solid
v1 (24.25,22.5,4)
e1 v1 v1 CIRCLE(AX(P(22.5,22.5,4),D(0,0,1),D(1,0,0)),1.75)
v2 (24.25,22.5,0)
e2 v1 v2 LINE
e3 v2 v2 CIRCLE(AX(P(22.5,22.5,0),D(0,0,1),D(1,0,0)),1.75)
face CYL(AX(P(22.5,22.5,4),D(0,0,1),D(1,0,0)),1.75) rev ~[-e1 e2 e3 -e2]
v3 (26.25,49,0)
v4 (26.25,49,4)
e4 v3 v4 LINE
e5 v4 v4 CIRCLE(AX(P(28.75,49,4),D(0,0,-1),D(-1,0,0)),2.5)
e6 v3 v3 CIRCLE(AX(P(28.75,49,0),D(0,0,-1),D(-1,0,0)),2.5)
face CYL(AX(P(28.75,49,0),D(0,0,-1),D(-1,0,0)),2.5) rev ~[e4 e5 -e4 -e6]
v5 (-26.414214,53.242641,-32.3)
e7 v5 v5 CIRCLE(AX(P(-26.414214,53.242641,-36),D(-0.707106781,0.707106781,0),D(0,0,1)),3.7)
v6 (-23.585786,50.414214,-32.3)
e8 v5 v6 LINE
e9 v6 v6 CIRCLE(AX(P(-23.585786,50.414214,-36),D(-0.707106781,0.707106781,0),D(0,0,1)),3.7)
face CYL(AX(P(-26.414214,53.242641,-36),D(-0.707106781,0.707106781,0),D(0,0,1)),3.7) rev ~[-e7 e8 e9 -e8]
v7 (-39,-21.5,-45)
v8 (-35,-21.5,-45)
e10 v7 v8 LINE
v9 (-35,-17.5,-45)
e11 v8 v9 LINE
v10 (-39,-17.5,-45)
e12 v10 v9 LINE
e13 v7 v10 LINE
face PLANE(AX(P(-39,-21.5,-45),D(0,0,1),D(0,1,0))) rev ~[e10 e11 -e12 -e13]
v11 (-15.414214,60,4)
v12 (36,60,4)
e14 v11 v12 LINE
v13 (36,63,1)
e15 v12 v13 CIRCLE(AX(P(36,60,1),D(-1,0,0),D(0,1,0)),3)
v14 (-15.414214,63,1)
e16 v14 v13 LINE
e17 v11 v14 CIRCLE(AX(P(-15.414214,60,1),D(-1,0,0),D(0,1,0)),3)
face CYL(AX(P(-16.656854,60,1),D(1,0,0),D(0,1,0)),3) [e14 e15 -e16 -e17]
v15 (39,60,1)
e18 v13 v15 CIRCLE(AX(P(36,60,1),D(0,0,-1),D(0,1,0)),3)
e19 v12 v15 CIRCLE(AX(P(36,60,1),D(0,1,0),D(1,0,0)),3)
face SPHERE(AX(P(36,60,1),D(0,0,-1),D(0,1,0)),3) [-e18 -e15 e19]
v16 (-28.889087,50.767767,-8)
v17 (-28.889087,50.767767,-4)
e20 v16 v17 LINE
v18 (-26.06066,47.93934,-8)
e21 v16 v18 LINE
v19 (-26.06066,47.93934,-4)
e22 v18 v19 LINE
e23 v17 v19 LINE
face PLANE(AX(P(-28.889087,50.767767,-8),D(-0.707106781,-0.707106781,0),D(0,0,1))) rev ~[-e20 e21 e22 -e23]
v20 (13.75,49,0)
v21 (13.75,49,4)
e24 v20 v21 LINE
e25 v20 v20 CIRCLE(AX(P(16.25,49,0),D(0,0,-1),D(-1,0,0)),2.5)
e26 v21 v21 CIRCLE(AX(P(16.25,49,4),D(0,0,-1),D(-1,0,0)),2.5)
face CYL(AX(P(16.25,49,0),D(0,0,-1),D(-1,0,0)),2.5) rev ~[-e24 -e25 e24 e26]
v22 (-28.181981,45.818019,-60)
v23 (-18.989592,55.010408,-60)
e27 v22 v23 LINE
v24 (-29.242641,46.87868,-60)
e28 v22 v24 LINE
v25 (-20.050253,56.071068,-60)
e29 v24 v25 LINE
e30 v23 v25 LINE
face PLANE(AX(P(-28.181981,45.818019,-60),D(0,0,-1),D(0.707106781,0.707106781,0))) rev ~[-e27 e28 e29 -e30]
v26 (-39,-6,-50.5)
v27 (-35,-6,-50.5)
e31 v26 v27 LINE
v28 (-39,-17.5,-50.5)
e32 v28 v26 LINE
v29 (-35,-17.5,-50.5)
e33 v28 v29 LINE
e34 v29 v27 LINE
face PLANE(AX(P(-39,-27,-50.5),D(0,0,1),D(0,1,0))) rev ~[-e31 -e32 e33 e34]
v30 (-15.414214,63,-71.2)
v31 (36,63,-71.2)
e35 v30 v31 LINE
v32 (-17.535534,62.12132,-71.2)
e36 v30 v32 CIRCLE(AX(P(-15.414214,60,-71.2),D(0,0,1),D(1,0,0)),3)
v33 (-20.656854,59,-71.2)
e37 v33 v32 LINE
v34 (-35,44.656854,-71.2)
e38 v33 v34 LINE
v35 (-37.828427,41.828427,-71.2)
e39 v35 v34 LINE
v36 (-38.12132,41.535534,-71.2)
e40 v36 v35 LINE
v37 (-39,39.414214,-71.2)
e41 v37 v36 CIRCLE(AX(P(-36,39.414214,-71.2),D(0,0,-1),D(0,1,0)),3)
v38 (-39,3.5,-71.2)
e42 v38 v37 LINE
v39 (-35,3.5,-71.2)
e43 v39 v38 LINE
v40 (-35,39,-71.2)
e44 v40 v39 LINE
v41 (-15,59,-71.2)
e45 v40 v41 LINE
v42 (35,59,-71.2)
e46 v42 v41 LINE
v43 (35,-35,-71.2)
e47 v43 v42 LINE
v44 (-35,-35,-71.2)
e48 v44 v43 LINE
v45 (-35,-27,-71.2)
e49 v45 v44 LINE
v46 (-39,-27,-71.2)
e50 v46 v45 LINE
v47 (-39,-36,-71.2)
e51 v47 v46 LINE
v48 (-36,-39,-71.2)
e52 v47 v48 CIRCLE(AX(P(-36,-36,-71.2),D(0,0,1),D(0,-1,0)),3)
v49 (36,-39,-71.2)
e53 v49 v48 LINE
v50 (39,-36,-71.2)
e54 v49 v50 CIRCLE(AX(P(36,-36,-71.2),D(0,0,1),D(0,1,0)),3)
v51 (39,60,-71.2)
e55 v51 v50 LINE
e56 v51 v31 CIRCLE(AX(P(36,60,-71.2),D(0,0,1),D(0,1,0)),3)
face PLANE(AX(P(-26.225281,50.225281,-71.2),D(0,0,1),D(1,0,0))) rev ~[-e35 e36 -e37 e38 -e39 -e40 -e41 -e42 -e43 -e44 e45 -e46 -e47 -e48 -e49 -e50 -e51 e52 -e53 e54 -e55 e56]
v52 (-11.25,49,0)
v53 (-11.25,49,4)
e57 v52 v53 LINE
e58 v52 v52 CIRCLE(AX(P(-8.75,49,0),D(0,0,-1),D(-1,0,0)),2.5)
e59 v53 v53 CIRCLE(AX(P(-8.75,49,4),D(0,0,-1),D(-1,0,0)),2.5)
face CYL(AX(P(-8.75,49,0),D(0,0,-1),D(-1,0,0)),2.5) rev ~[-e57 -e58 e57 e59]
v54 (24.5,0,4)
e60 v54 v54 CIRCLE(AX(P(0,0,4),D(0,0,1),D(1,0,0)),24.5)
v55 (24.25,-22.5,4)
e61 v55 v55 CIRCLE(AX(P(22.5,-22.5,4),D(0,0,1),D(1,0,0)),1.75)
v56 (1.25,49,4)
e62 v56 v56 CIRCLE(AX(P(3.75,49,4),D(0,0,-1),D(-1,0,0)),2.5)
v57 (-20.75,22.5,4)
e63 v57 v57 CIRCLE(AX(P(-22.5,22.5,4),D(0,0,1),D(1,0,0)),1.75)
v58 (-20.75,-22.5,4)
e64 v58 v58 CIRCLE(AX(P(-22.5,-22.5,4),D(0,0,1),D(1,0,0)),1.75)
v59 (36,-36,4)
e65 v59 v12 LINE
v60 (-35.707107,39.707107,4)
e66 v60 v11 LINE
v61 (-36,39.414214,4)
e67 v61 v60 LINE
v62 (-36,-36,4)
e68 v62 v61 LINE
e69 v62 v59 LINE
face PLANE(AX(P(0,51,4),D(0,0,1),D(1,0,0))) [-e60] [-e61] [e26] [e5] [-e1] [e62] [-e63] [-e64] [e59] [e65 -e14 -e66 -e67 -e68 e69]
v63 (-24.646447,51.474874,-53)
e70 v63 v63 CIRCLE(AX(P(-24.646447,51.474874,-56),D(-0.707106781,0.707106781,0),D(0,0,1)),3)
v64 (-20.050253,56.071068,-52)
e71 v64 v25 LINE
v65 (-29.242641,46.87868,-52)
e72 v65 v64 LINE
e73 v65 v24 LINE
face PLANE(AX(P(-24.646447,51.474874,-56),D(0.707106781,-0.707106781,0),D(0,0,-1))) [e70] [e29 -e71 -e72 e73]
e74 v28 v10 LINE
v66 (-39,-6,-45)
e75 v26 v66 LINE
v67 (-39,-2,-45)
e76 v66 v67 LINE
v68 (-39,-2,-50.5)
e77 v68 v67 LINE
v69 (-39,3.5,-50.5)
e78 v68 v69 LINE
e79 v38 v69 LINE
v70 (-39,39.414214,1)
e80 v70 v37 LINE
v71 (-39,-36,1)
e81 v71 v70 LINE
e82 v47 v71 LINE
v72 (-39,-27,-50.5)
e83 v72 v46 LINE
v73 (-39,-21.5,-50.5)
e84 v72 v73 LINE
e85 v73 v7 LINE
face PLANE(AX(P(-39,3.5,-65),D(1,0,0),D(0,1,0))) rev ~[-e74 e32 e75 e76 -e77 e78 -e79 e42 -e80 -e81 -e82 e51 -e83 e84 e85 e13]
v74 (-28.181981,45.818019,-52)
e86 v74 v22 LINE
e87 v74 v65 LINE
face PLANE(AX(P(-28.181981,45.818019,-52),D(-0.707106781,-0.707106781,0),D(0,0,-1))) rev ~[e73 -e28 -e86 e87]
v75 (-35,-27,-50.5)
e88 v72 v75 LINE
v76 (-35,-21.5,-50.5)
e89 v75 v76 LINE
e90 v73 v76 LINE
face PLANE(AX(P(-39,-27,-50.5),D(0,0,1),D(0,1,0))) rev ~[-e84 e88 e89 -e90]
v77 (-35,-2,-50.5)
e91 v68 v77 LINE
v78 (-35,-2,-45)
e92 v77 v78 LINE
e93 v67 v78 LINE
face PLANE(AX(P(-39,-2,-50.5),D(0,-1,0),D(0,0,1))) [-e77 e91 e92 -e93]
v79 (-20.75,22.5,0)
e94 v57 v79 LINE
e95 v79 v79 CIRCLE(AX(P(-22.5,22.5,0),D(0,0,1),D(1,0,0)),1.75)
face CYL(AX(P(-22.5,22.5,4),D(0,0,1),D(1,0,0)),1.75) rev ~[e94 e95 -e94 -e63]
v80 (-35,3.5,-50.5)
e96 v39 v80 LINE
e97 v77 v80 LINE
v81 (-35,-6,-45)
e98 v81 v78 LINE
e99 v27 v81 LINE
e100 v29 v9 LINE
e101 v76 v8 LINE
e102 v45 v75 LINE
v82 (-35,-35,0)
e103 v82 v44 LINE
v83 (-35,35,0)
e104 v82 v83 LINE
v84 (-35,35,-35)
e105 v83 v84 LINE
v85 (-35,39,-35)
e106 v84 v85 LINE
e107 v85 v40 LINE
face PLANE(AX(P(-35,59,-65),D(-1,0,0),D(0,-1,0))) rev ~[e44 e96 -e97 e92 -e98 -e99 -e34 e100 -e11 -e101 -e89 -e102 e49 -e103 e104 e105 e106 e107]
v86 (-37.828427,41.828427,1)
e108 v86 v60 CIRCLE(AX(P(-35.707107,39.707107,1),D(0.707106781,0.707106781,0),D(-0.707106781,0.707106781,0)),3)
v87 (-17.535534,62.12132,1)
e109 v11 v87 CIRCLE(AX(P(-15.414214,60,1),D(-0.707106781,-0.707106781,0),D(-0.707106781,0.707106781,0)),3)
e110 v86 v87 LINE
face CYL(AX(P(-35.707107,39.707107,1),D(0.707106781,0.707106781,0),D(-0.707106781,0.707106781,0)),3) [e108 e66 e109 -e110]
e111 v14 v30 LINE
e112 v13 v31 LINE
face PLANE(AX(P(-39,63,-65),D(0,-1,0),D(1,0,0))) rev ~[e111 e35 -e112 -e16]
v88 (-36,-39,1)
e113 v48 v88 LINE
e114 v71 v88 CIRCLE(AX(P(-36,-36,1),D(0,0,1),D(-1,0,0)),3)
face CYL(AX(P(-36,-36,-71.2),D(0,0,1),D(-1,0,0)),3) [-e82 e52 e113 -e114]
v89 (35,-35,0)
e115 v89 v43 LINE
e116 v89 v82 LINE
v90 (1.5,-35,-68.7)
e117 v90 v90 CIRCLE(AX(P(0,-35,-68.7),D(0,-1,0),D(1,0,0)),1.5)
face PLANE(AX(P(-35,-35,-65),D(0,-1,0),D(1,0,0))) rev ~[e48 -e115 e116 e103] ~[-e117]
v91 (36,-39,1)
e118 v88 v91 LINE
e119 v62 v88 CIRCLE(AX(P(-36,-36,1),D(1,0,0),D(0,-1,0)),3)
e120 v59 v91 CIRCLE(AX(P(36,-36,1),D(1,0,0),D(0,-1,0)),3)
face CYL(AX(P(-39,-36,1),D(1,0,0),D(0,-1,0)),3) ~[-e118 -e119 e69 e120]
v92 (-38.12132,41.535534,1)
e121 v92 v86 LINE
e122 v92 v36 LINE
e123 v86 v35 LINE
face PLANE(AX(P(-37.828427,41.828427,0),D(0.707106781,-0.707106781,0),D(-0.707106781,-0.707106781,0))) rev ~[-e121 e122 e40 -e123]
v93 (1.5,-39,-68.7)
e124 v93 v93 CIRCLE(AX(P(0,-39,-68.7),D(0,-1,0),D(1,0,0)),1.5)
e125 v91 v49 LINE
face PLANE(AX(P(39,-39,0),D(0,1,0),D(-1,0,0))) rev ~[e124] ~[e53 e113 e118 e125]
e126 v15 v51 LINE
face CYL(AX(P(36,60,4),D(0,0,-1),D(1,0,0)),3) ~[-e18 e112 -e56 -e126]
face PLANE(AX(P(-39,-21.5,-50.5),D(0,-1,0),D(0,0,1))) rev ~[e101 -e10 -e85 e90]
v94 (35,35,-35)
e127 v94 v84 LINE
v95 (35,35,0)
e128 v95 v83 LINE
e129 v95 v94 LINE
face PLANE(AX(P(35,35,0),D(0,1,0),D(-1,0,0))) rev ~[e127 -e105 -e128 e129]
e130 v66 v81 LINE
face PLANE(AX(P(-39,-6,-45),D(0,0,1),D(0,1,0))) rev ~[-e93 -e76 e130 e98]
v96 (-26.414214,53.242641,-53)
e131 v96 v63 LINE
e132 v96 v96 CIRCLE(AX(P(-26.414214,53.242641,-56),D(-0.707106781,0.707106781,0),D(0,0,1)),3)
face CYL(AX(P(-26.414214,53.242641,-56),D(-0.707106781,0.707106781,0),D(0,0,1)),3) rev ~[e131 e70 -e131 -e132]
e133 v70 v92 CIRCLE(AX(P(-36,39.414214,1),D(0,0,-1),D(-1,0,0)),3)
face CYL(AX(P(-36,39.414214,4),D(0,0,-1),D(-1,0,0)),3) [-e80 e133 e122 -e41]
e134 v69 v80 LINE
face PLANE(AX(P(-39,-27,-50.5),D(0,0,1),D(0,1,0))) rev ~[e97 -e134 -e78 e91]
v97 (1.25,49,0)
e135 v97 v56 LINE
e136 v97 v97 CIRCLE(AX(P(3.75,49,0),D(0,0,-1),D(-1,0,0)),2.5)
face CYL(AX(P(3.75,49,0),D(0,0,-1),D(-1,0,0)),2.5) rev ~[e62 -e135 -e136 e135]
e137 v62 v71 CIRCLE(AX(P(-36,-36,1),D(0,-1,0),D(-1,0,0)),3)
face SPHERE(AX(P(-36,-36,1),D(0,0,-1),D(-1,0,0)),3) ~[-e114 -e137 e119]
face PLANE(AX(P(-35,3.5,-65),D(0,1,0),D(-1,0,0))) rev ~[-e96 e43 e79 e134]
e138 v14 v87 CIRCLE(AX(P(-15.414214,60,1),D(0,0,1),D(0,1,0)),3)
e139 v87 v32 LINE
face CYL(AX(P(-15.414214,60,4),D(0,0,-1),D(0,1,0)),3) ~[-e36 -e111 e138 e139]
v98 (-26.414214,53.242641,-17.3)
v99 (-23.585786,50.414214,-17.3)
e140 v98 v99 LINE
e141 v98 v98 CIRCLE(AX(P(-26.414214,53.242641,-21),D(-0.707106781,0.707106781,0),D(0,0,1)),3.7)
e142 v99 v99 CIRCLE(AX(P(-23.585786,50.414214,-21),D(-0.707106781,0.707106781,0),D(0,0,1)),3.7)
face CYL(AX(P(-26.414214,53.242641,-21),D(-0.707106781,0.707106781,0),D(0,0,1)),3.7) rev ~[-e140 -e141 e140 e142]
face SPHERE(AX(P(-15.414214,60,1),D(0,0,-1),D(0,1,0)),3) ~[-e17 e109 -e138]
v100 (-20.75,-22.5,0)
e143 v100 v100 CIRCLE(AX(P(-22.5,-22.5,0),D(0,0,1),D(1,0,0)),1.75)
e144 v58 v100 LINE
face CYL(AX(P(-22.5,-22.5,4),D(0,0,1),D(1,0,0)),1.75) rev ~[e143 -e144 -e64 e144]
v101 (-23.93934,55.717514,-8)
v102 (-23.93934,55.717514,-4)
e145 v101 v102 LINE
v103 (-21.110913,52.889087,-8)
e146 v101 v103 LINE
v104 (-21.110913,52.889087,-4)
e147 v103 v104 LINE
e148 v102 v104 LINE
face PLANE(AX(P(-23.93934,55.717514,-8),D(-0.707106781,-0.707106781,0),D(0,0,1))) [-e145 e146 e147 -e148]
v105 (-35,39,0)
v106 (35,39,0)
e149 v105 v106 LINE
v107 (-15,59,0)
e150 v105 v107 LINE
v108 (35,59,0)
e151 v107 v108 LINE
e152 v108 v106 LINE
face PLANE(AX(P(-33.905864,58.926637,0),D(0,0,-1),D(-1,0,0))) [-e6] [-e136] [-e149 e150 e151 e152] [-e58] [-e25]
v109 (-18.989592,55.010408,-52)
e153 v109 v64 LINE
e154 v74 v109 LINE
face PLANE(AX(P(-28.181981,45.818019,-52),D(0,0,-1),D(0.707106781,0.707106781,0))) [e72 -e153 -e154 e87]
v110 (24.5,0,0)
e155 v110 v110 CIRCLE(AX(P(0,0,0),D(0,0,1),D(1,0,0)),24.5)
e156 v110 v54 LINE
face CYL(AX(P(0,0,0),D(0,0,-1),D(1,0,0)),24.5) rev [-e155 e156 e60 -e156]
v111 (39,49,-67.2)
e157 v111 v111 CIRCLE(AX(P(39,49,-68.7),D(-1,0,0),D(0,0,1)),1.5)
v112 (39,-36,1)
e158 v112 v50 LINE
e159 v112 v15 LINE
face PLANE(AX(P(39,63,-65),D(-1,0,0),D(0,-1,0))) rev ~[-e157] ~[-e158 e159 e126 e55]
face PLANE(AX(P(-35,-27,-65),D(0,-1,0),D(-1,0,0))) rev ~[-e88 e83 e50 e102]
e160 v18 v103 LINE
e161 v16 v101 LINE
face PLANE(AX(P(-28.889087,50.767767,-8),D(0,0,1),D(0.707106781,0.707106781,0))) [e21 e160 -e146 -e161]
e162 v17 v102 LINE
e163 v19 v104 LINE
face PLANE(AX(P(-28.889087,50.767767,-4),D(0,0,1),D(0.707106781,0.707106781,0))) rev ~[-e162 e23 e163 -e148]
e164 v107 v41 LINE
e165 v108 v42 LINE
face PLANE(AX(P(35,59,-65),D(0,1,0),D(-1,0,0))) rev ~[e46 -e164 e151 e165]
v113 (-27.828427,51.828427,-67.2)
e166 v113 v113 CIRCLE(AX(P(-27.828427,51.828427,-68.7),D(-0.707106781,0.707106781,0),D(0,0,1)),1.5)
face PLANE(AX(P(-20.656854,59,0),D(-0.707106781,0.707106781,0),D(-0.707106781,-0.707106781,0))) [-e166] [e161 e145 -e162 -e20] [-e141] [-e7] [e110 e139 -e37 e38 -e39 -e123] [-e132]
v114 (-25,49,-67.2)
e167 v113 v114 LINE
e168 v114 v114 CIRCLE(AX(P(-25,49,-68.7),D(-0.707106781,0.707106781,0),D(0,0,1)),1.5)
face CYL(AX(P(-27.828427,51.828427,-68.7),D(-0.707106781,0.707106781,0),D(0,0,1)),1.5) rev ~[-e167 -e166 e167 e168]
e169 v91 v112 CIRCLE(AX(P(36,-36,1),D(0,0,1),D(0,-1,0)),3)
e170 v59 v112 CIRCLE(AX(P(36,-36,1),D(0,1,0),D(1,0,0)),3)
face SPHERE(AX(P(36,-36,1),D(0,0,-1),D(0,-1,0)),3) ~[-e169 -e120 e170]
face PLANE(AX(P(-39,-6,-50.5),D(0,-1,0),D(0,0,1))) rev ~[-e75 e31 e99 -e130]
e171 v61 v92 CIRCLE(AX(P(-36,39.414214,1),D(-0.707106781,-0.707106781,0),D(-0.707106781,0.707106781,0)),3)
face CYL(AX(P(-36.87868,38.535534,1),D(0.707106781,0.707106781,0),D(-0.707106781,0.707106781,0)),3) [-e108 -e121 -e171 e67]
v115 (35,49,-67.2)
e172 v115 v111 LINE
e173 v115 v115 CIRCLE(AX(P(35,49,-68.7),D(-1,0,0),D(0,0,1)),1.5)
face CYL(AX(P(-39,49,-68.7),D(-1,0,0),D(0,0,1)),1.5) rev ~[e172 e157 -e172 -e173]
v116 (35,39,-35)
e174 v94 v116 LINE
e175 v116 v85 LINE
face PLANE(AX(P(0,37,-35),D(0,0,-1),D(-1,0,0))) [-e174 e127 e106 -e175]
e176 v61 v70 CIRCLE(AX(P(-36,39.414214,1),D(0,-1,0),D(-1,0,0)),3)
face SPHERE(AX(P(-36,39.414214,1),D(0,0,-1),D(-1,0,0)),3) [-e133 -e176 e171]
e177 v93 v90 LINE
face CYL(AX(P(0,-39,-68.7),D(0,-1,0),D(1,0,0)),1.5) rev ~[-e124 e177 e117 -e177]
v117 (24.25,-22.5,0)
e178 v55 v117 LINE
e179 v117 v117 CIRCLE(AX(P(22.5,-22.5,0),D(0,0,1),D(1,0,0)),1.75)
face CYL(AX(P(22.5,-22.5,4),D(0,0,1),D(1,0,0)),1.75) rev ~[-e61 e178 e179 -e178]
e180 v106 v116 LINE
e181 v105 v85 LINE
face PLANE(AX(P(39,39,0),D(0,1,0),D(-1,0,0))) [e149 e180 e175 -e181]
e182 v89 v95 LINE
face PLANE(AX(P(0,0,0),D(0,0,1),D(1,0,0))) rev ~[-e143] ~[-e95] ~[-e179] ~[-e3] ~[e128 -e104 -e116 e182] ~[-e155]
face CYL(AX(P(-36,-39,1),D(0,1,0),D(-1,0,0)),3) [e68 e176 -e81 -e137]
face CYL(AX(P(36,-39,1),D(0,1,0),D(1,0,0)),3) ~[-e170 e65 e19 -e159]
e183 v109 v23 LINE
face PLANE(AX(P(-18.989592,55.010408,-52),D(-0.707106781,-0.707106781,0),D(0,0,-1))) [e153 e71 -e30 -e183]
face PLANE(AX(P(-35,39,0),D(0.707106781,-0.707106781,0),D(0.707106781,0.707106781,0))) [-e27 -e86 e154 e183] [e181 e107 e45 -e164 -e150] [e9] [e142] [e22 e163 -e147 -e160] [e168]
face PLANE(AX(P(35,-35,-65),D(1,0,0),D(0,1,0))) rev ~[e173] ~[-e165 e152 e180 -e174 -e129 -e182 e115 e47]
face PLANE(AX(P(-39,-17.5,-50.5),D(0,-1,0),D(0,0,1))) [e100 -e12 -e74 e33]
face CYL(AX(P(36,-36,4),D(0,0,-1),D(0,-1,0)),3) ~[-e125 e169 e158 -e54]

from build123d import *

# Parameters (mm, degrees)
CROQUIS1_W                  = 78
CROQUIS1_H                  = 78
CROQUIS1_R                  = 24.5
SALIENTE_EXTRUIR1_DEPTH     = 4
CROQUIS2_W                  = 78
CROQUIS2_H                  = 78
CROQUIS2_W_2                = 70
CROQUIS2_H_2                = 70
SALIENTE_EXTRUIR2_DEPTH     = 65
CROQUIS3_W                  = 4
CROQUIS3_H                  = 30.5
CORTAR_EXTRUIR1_DEPTH       = 10.5
CROQUIS4_W                  = 5.5
CROQUIS4_H                  = 4
CORTAR_EXTRUIR2_DEPTH       = 4
CROQUIS5_W                  = 10.5
CROQUIS5_H                  = 30.5
CORTAR_EXTRUIR3_DEPTH       = 4
CROQUIS6_W                  = 78
CROQUIS6_H                  = 24
SALIENTE_EXTRUIR3_DEPTH     = 4
SALIENTE_EXTRUIR4_DEPTH     = 65
CROQUIS8_W                  = 70
CROQUIS8_H                  = 4
CORTAR_EXTRUIR4_DEPTH       = 30
CROQUIS9_R                  = 2.5
CORTAR_EXTRUIR5_DEPTH       = 4
CROQUIS11_R                 = 1.75
CORTAR_EXTRUIR7_DEPTH       = 4
SALIENTE_EXTRUIR5_DEPTH     = 6.2
CROQUIS13_R                 = 1.5
CORTAR_EXTRUIR8_DEPTH       = 78
CROQUIS15_R                 = 1.5
CORTAR_EXTRUIR9_DEPTH       = 10
CORTAR_EXTRUIR10_DEPTH      = 72.2
CORTAR_EXTRUIR10_DEPTH_BACK = 5
SALIENTE_EXTRUIR12_DEPTH    = 71.2
CROQUIS20_R                 = 3.7
CROQUIS20_R_2               = 3
CROQUIS20_W                 = 4
CROQUIS20_H                 = 7
CORTAR_EXTRUIR11_DEPTH      = 4
CROQUIS21_W                 = 8
CROQUIS21_H                 = 13
CORTAR_EXTRUIR12_DEPTH      = 1.5
CROQUIS22_R                 = 1.5
CORTAR_EXTRUIR13_DEPTH      = 4
REDONDEO1_R                 = 3


with BuildPart() as part:
    # Croquis1 → Saliente-Extruir1 (new body)
    with BuildSketch(Plane.XY):
        Rectangle(CROQUIS1_W, CROQUIS1_H)
        Circle(CROQUIS1_R, mode=Mode.SUBTRACT)
    extrude(amount=SALIENTE_EXTRUIR1_DEPTH)

    # Croquis2 → Saliente-Extruir2 (add)
    with BuildSketch(Plane(origin=(0, 0, 0), x_dir=(-1, 0, 0), z_dir=(0, 0, -1))):
        Rectangle(CROQUIS2_W, CROQUIS2_H)
        Rectangle(CROQUIS2_W_2, CROQUIS2_H_2, mode=Mode.SUBTRACT)
    extrude(amount=SALIENTE_EXTRUIR2_DEPTH)

    # Croquis3 → Cortar-Extruir1 (cut)
    with BuildSketch(Plane(origin=(0, 0, -65), x_dir=(-1, 0, 0), z_dir=(0, 0, -1))):
        with Locations((37, -11.75)):
            Rectangle(CROQUIS3_W, CROQUIS3_H)
    extrude(amount=-CORTAR_EXTRUIR1_DEPTH, mode=Mode.SUBTRACT)

    # Croquis4 → Cortar-Extruir2 (cut)
    with BuildSketch(Plane.ZY.offset(39)):
        with Locations((-47.75, -4)):
            Rectangle(CROQUIS4_W, CROQUIS4_H)
        with Locations((-47.75, -19.5)):
            Rectangle(CROQUIS4_W, CROQUIS4_H)
    extrude(amount=-CORTAR_EXTRUIR2_DEPTH, mode=Mode.SUBTRACT)

    # Croquis5 → Cortar-Extruir3 (cut)
    with BuildSketch(Plane.ZY.offset(39)):
        with Locations((-55.75, -11.75)):
            Rectangle(CROQUIS5_W, CROQUIS5_H)
    extrude(amount=-CORTAR_EXTRUIR3_DEPTH, mode=Mode.SUBTRACT)

    # Croquis6 → Saliente-Extruir3 (add)
    with BuildSketch(Plane.XY.offset(4)):
        with Locations((0, 51)):
            Rectangle(CROQUIS6_W, CROQUIS6_H)
    extrude(amount=-SALIENTE_EXTRUIR3_DEPTH)

    # Croquis7 → Saliente-Extruir4 (add)
    with BuildSketch(Plane(origin=(0, 0, 0), x_dir=(-1, 0, 0), z_dir=(0, 0, -1))):
        Polygon((-39, 39), (-39, 63), (39, 63), (39, 39), (35, 39), (35, 59), (-35, 59), (-35, 39), align=None)
    extrude(amount=SALIENTE_EXTRUIR4_DEPTH)

    # Croquis8 → Cortar-Extruir4 (cut)
    with BuildSketch(Plane(origin=(0, 0, -65), x_dir=(-1, 0, 0), z_dir=(0, 0, -1))):
        with Locations((0, 37)):
            Rectangle(CROQUIS8_W, CROQUIS8_H)
    extrude(amount=-CORTAR_EXTRUIR4_DEPTH, mode=Mode.SUBTRACT)

    # Croquis9 → Cortar-Extruir5 (cut)
    with BuildSketch(Plane(origin=(0, 0, 0), x_dir=(-1, 0, 0), z_dir=(0, 0, -1))):
        with Locations((-16.25, 49)):
            Circle(CROQUIS9_R)
        with Locations((-3.75, 49)):
            Circle(CROQUIS9_R)
        with Locations((8.75, 49)):
            Circle(CROQUIS9_R)
        with Locations((-28.75, 49)):
            Circle(CROQUIS9_R)
    extrude(amount=-CORTAR_EXTRUIR5_DEPTH, mode=Mode.SUBTRACT)

    # Croquis11 → Cortar-Extruir7 (cut)
    with BuildSketch(Plane.XY.offset(4)):
        with Locations((-22.5, 22.5)):
            Circle(CROQUIS11_R)
        with Locations((22.5, 22.5)):
            Circle(CROQUIS11_R)
        with Locations((22.5, -22.5)):
            Circle(CROQUIS11_R)
        with Locations((-22.5, -22.5)):
            Circle(CROQUIS11_R)
    extrude(amount=-CORTAR_EXTRUIR7_DEPTH, mode=Mode.SUBTRACT)

    # Croquis12 → Saliente-Extruir5 (add)
    with BuildSketch(Plane(origin=(0, 0, -65), x_dir=(-1, 0, 0), z_dir=(0, 0, -1))):
        Polygon((39, 3.5), (39, 63), (-39, 63), (-39, -39), (39, -39), (39, -27), (35, -27), (35, -35), (-35, -35), (-35, 59), (35, 59), (35, 3.5), align=None)
    extrude(amount=SALIENTE_EXTRUIR5_DEPTH)

    # Croquis13 → Cortar-Extruir8 (cut)
    with BuildSketch(Plane.ZY.offset(39)):
        with Locations((-68.7, 49)):
            Circle(CROQUIS13_R)
    extrude(amount=-CORTAR_EXTRUIR8_DEPTH, mode=Mode.SUBTRACT)

    # Croquis15 → Cortar-Extruir9 (cut)
    with BuildSketch(Plane.XZ.offset(39)):
        with Locations((0, -68.7)):
            Circle(CROQUIS15_R)
    extrude(amount=-CORTAR_EXTRUIR9_DEPTH, mode=Mode.SUBTRACT)

    # Croquis18 → Cortar-Extruir10 (cut, two sides)
    with BuildSketch(Plane(origin=(0, 0, 0), x_dir=(-1, 0, 0), z_dir=(0, 0, -1))) as cortar_extruir10_sk:
        Polygon((37.828427125, 41.828427125), (46.180842651, 33.476011598), (52.654514268, 70.809075829), (7.06091393, 72.59594032), align=None)
    extrude(amount=CORTAR_EXTRUIR10_DEPTH, mode=Mode.SUBTRACT)
    extrude(cortar_extruir10_sk.sketch, amount=-CORTAR_EXTRUIR10_DEPTH_BACK, mode=Mode.SUBTRACT)

    # Croquis19 → Saliente-Extruir12 (add)
    with BuildSketch(Plane(origin=(0, 0, 0), x_dir=(-1, 0, 0), z_dir=(0, 0, -1))):
        Polygon((35, 39), (15, 59), (20.656854249, 59), (35, 44.656854249), align=None)
    extrude(amount=SALIENTE_EXTRUIR12_DEPTH)

    # Croquis20 → Cortar-Extruir11 (cut)
    with BuildSketch(Plane(origin=(-39.828427125, 39.828427125, 0), x_dir=(0, 0, 1), z_dir=(-0.707106781, 0.707106781, 0))):
        with Locations((-21, 18.970562748)):
            Circle(CROQUIS20_R)
        with Locations((-36, 18.970562748)):
            Circle(CROQUIS20_R)
        with Locations((-56, 18.970562748)):
            Circle(CROQUIS20_R_2)
        with Locations((-6, 18.970562748)):
            Rectangle(CROQUIS20_W, CROQUIS20_H)
    extrude(amount=-CORTAR_EXTRUIR11_DEPTH, mode=Mode.SUBTRACT)

    # Croquis21 → Cortar-Extruir12 (cut)
    with BuildSketch(Plane(origin=(-37, 37, 0), x_dir=(0, 0, -1), z_dir=(0.707106781, -0.707106781, 0))):
        with Locations((56, 18.970562748)):
            Rectangle(CROQUIS21_W, CROQUIS21_H)
    extrude(amount=-CORTAR_EXTRUIR12_DEPTH, mode=Mode.SUBTRACT)

    # Croquis22 → Cortar-Extruir13 (cut)
    with BuildSketch(Plane(origin=(-39.828427125, 39.828427125, 0), x_dir=(0, 0, 1), z_dir=(-0.707106781, 0.707106781, 0))):
        with Locations((-68.7, 16.970562748)):
            Circle(CROQUIS22_R)
    extrude(amount=-CORTAR_EXTRUIR13_DEPTH, mode=Mode.SUBTRACT)

    # Redondeo1
    redondeo1_edges = [part.edges().sort_by_distance(p)[0] for p in [
        (39, 63, -33.6),
        (11.171572875, 63, 4),
        (39, -39, -33.6),
        (-39, -39, -33.6),
        (-39, 0.828427125, 4),
        (-27.828427125, 51.828427125, 4),
        (-39, 40.656854249, -33.6),
        (-16.656854249, 63, -33.6),
        (0, -39, 4),
        (39, 12, 4),
    ]]
    fillet(redondeo1_edges, radius=REDONDEO1_R)


solid = part.part
